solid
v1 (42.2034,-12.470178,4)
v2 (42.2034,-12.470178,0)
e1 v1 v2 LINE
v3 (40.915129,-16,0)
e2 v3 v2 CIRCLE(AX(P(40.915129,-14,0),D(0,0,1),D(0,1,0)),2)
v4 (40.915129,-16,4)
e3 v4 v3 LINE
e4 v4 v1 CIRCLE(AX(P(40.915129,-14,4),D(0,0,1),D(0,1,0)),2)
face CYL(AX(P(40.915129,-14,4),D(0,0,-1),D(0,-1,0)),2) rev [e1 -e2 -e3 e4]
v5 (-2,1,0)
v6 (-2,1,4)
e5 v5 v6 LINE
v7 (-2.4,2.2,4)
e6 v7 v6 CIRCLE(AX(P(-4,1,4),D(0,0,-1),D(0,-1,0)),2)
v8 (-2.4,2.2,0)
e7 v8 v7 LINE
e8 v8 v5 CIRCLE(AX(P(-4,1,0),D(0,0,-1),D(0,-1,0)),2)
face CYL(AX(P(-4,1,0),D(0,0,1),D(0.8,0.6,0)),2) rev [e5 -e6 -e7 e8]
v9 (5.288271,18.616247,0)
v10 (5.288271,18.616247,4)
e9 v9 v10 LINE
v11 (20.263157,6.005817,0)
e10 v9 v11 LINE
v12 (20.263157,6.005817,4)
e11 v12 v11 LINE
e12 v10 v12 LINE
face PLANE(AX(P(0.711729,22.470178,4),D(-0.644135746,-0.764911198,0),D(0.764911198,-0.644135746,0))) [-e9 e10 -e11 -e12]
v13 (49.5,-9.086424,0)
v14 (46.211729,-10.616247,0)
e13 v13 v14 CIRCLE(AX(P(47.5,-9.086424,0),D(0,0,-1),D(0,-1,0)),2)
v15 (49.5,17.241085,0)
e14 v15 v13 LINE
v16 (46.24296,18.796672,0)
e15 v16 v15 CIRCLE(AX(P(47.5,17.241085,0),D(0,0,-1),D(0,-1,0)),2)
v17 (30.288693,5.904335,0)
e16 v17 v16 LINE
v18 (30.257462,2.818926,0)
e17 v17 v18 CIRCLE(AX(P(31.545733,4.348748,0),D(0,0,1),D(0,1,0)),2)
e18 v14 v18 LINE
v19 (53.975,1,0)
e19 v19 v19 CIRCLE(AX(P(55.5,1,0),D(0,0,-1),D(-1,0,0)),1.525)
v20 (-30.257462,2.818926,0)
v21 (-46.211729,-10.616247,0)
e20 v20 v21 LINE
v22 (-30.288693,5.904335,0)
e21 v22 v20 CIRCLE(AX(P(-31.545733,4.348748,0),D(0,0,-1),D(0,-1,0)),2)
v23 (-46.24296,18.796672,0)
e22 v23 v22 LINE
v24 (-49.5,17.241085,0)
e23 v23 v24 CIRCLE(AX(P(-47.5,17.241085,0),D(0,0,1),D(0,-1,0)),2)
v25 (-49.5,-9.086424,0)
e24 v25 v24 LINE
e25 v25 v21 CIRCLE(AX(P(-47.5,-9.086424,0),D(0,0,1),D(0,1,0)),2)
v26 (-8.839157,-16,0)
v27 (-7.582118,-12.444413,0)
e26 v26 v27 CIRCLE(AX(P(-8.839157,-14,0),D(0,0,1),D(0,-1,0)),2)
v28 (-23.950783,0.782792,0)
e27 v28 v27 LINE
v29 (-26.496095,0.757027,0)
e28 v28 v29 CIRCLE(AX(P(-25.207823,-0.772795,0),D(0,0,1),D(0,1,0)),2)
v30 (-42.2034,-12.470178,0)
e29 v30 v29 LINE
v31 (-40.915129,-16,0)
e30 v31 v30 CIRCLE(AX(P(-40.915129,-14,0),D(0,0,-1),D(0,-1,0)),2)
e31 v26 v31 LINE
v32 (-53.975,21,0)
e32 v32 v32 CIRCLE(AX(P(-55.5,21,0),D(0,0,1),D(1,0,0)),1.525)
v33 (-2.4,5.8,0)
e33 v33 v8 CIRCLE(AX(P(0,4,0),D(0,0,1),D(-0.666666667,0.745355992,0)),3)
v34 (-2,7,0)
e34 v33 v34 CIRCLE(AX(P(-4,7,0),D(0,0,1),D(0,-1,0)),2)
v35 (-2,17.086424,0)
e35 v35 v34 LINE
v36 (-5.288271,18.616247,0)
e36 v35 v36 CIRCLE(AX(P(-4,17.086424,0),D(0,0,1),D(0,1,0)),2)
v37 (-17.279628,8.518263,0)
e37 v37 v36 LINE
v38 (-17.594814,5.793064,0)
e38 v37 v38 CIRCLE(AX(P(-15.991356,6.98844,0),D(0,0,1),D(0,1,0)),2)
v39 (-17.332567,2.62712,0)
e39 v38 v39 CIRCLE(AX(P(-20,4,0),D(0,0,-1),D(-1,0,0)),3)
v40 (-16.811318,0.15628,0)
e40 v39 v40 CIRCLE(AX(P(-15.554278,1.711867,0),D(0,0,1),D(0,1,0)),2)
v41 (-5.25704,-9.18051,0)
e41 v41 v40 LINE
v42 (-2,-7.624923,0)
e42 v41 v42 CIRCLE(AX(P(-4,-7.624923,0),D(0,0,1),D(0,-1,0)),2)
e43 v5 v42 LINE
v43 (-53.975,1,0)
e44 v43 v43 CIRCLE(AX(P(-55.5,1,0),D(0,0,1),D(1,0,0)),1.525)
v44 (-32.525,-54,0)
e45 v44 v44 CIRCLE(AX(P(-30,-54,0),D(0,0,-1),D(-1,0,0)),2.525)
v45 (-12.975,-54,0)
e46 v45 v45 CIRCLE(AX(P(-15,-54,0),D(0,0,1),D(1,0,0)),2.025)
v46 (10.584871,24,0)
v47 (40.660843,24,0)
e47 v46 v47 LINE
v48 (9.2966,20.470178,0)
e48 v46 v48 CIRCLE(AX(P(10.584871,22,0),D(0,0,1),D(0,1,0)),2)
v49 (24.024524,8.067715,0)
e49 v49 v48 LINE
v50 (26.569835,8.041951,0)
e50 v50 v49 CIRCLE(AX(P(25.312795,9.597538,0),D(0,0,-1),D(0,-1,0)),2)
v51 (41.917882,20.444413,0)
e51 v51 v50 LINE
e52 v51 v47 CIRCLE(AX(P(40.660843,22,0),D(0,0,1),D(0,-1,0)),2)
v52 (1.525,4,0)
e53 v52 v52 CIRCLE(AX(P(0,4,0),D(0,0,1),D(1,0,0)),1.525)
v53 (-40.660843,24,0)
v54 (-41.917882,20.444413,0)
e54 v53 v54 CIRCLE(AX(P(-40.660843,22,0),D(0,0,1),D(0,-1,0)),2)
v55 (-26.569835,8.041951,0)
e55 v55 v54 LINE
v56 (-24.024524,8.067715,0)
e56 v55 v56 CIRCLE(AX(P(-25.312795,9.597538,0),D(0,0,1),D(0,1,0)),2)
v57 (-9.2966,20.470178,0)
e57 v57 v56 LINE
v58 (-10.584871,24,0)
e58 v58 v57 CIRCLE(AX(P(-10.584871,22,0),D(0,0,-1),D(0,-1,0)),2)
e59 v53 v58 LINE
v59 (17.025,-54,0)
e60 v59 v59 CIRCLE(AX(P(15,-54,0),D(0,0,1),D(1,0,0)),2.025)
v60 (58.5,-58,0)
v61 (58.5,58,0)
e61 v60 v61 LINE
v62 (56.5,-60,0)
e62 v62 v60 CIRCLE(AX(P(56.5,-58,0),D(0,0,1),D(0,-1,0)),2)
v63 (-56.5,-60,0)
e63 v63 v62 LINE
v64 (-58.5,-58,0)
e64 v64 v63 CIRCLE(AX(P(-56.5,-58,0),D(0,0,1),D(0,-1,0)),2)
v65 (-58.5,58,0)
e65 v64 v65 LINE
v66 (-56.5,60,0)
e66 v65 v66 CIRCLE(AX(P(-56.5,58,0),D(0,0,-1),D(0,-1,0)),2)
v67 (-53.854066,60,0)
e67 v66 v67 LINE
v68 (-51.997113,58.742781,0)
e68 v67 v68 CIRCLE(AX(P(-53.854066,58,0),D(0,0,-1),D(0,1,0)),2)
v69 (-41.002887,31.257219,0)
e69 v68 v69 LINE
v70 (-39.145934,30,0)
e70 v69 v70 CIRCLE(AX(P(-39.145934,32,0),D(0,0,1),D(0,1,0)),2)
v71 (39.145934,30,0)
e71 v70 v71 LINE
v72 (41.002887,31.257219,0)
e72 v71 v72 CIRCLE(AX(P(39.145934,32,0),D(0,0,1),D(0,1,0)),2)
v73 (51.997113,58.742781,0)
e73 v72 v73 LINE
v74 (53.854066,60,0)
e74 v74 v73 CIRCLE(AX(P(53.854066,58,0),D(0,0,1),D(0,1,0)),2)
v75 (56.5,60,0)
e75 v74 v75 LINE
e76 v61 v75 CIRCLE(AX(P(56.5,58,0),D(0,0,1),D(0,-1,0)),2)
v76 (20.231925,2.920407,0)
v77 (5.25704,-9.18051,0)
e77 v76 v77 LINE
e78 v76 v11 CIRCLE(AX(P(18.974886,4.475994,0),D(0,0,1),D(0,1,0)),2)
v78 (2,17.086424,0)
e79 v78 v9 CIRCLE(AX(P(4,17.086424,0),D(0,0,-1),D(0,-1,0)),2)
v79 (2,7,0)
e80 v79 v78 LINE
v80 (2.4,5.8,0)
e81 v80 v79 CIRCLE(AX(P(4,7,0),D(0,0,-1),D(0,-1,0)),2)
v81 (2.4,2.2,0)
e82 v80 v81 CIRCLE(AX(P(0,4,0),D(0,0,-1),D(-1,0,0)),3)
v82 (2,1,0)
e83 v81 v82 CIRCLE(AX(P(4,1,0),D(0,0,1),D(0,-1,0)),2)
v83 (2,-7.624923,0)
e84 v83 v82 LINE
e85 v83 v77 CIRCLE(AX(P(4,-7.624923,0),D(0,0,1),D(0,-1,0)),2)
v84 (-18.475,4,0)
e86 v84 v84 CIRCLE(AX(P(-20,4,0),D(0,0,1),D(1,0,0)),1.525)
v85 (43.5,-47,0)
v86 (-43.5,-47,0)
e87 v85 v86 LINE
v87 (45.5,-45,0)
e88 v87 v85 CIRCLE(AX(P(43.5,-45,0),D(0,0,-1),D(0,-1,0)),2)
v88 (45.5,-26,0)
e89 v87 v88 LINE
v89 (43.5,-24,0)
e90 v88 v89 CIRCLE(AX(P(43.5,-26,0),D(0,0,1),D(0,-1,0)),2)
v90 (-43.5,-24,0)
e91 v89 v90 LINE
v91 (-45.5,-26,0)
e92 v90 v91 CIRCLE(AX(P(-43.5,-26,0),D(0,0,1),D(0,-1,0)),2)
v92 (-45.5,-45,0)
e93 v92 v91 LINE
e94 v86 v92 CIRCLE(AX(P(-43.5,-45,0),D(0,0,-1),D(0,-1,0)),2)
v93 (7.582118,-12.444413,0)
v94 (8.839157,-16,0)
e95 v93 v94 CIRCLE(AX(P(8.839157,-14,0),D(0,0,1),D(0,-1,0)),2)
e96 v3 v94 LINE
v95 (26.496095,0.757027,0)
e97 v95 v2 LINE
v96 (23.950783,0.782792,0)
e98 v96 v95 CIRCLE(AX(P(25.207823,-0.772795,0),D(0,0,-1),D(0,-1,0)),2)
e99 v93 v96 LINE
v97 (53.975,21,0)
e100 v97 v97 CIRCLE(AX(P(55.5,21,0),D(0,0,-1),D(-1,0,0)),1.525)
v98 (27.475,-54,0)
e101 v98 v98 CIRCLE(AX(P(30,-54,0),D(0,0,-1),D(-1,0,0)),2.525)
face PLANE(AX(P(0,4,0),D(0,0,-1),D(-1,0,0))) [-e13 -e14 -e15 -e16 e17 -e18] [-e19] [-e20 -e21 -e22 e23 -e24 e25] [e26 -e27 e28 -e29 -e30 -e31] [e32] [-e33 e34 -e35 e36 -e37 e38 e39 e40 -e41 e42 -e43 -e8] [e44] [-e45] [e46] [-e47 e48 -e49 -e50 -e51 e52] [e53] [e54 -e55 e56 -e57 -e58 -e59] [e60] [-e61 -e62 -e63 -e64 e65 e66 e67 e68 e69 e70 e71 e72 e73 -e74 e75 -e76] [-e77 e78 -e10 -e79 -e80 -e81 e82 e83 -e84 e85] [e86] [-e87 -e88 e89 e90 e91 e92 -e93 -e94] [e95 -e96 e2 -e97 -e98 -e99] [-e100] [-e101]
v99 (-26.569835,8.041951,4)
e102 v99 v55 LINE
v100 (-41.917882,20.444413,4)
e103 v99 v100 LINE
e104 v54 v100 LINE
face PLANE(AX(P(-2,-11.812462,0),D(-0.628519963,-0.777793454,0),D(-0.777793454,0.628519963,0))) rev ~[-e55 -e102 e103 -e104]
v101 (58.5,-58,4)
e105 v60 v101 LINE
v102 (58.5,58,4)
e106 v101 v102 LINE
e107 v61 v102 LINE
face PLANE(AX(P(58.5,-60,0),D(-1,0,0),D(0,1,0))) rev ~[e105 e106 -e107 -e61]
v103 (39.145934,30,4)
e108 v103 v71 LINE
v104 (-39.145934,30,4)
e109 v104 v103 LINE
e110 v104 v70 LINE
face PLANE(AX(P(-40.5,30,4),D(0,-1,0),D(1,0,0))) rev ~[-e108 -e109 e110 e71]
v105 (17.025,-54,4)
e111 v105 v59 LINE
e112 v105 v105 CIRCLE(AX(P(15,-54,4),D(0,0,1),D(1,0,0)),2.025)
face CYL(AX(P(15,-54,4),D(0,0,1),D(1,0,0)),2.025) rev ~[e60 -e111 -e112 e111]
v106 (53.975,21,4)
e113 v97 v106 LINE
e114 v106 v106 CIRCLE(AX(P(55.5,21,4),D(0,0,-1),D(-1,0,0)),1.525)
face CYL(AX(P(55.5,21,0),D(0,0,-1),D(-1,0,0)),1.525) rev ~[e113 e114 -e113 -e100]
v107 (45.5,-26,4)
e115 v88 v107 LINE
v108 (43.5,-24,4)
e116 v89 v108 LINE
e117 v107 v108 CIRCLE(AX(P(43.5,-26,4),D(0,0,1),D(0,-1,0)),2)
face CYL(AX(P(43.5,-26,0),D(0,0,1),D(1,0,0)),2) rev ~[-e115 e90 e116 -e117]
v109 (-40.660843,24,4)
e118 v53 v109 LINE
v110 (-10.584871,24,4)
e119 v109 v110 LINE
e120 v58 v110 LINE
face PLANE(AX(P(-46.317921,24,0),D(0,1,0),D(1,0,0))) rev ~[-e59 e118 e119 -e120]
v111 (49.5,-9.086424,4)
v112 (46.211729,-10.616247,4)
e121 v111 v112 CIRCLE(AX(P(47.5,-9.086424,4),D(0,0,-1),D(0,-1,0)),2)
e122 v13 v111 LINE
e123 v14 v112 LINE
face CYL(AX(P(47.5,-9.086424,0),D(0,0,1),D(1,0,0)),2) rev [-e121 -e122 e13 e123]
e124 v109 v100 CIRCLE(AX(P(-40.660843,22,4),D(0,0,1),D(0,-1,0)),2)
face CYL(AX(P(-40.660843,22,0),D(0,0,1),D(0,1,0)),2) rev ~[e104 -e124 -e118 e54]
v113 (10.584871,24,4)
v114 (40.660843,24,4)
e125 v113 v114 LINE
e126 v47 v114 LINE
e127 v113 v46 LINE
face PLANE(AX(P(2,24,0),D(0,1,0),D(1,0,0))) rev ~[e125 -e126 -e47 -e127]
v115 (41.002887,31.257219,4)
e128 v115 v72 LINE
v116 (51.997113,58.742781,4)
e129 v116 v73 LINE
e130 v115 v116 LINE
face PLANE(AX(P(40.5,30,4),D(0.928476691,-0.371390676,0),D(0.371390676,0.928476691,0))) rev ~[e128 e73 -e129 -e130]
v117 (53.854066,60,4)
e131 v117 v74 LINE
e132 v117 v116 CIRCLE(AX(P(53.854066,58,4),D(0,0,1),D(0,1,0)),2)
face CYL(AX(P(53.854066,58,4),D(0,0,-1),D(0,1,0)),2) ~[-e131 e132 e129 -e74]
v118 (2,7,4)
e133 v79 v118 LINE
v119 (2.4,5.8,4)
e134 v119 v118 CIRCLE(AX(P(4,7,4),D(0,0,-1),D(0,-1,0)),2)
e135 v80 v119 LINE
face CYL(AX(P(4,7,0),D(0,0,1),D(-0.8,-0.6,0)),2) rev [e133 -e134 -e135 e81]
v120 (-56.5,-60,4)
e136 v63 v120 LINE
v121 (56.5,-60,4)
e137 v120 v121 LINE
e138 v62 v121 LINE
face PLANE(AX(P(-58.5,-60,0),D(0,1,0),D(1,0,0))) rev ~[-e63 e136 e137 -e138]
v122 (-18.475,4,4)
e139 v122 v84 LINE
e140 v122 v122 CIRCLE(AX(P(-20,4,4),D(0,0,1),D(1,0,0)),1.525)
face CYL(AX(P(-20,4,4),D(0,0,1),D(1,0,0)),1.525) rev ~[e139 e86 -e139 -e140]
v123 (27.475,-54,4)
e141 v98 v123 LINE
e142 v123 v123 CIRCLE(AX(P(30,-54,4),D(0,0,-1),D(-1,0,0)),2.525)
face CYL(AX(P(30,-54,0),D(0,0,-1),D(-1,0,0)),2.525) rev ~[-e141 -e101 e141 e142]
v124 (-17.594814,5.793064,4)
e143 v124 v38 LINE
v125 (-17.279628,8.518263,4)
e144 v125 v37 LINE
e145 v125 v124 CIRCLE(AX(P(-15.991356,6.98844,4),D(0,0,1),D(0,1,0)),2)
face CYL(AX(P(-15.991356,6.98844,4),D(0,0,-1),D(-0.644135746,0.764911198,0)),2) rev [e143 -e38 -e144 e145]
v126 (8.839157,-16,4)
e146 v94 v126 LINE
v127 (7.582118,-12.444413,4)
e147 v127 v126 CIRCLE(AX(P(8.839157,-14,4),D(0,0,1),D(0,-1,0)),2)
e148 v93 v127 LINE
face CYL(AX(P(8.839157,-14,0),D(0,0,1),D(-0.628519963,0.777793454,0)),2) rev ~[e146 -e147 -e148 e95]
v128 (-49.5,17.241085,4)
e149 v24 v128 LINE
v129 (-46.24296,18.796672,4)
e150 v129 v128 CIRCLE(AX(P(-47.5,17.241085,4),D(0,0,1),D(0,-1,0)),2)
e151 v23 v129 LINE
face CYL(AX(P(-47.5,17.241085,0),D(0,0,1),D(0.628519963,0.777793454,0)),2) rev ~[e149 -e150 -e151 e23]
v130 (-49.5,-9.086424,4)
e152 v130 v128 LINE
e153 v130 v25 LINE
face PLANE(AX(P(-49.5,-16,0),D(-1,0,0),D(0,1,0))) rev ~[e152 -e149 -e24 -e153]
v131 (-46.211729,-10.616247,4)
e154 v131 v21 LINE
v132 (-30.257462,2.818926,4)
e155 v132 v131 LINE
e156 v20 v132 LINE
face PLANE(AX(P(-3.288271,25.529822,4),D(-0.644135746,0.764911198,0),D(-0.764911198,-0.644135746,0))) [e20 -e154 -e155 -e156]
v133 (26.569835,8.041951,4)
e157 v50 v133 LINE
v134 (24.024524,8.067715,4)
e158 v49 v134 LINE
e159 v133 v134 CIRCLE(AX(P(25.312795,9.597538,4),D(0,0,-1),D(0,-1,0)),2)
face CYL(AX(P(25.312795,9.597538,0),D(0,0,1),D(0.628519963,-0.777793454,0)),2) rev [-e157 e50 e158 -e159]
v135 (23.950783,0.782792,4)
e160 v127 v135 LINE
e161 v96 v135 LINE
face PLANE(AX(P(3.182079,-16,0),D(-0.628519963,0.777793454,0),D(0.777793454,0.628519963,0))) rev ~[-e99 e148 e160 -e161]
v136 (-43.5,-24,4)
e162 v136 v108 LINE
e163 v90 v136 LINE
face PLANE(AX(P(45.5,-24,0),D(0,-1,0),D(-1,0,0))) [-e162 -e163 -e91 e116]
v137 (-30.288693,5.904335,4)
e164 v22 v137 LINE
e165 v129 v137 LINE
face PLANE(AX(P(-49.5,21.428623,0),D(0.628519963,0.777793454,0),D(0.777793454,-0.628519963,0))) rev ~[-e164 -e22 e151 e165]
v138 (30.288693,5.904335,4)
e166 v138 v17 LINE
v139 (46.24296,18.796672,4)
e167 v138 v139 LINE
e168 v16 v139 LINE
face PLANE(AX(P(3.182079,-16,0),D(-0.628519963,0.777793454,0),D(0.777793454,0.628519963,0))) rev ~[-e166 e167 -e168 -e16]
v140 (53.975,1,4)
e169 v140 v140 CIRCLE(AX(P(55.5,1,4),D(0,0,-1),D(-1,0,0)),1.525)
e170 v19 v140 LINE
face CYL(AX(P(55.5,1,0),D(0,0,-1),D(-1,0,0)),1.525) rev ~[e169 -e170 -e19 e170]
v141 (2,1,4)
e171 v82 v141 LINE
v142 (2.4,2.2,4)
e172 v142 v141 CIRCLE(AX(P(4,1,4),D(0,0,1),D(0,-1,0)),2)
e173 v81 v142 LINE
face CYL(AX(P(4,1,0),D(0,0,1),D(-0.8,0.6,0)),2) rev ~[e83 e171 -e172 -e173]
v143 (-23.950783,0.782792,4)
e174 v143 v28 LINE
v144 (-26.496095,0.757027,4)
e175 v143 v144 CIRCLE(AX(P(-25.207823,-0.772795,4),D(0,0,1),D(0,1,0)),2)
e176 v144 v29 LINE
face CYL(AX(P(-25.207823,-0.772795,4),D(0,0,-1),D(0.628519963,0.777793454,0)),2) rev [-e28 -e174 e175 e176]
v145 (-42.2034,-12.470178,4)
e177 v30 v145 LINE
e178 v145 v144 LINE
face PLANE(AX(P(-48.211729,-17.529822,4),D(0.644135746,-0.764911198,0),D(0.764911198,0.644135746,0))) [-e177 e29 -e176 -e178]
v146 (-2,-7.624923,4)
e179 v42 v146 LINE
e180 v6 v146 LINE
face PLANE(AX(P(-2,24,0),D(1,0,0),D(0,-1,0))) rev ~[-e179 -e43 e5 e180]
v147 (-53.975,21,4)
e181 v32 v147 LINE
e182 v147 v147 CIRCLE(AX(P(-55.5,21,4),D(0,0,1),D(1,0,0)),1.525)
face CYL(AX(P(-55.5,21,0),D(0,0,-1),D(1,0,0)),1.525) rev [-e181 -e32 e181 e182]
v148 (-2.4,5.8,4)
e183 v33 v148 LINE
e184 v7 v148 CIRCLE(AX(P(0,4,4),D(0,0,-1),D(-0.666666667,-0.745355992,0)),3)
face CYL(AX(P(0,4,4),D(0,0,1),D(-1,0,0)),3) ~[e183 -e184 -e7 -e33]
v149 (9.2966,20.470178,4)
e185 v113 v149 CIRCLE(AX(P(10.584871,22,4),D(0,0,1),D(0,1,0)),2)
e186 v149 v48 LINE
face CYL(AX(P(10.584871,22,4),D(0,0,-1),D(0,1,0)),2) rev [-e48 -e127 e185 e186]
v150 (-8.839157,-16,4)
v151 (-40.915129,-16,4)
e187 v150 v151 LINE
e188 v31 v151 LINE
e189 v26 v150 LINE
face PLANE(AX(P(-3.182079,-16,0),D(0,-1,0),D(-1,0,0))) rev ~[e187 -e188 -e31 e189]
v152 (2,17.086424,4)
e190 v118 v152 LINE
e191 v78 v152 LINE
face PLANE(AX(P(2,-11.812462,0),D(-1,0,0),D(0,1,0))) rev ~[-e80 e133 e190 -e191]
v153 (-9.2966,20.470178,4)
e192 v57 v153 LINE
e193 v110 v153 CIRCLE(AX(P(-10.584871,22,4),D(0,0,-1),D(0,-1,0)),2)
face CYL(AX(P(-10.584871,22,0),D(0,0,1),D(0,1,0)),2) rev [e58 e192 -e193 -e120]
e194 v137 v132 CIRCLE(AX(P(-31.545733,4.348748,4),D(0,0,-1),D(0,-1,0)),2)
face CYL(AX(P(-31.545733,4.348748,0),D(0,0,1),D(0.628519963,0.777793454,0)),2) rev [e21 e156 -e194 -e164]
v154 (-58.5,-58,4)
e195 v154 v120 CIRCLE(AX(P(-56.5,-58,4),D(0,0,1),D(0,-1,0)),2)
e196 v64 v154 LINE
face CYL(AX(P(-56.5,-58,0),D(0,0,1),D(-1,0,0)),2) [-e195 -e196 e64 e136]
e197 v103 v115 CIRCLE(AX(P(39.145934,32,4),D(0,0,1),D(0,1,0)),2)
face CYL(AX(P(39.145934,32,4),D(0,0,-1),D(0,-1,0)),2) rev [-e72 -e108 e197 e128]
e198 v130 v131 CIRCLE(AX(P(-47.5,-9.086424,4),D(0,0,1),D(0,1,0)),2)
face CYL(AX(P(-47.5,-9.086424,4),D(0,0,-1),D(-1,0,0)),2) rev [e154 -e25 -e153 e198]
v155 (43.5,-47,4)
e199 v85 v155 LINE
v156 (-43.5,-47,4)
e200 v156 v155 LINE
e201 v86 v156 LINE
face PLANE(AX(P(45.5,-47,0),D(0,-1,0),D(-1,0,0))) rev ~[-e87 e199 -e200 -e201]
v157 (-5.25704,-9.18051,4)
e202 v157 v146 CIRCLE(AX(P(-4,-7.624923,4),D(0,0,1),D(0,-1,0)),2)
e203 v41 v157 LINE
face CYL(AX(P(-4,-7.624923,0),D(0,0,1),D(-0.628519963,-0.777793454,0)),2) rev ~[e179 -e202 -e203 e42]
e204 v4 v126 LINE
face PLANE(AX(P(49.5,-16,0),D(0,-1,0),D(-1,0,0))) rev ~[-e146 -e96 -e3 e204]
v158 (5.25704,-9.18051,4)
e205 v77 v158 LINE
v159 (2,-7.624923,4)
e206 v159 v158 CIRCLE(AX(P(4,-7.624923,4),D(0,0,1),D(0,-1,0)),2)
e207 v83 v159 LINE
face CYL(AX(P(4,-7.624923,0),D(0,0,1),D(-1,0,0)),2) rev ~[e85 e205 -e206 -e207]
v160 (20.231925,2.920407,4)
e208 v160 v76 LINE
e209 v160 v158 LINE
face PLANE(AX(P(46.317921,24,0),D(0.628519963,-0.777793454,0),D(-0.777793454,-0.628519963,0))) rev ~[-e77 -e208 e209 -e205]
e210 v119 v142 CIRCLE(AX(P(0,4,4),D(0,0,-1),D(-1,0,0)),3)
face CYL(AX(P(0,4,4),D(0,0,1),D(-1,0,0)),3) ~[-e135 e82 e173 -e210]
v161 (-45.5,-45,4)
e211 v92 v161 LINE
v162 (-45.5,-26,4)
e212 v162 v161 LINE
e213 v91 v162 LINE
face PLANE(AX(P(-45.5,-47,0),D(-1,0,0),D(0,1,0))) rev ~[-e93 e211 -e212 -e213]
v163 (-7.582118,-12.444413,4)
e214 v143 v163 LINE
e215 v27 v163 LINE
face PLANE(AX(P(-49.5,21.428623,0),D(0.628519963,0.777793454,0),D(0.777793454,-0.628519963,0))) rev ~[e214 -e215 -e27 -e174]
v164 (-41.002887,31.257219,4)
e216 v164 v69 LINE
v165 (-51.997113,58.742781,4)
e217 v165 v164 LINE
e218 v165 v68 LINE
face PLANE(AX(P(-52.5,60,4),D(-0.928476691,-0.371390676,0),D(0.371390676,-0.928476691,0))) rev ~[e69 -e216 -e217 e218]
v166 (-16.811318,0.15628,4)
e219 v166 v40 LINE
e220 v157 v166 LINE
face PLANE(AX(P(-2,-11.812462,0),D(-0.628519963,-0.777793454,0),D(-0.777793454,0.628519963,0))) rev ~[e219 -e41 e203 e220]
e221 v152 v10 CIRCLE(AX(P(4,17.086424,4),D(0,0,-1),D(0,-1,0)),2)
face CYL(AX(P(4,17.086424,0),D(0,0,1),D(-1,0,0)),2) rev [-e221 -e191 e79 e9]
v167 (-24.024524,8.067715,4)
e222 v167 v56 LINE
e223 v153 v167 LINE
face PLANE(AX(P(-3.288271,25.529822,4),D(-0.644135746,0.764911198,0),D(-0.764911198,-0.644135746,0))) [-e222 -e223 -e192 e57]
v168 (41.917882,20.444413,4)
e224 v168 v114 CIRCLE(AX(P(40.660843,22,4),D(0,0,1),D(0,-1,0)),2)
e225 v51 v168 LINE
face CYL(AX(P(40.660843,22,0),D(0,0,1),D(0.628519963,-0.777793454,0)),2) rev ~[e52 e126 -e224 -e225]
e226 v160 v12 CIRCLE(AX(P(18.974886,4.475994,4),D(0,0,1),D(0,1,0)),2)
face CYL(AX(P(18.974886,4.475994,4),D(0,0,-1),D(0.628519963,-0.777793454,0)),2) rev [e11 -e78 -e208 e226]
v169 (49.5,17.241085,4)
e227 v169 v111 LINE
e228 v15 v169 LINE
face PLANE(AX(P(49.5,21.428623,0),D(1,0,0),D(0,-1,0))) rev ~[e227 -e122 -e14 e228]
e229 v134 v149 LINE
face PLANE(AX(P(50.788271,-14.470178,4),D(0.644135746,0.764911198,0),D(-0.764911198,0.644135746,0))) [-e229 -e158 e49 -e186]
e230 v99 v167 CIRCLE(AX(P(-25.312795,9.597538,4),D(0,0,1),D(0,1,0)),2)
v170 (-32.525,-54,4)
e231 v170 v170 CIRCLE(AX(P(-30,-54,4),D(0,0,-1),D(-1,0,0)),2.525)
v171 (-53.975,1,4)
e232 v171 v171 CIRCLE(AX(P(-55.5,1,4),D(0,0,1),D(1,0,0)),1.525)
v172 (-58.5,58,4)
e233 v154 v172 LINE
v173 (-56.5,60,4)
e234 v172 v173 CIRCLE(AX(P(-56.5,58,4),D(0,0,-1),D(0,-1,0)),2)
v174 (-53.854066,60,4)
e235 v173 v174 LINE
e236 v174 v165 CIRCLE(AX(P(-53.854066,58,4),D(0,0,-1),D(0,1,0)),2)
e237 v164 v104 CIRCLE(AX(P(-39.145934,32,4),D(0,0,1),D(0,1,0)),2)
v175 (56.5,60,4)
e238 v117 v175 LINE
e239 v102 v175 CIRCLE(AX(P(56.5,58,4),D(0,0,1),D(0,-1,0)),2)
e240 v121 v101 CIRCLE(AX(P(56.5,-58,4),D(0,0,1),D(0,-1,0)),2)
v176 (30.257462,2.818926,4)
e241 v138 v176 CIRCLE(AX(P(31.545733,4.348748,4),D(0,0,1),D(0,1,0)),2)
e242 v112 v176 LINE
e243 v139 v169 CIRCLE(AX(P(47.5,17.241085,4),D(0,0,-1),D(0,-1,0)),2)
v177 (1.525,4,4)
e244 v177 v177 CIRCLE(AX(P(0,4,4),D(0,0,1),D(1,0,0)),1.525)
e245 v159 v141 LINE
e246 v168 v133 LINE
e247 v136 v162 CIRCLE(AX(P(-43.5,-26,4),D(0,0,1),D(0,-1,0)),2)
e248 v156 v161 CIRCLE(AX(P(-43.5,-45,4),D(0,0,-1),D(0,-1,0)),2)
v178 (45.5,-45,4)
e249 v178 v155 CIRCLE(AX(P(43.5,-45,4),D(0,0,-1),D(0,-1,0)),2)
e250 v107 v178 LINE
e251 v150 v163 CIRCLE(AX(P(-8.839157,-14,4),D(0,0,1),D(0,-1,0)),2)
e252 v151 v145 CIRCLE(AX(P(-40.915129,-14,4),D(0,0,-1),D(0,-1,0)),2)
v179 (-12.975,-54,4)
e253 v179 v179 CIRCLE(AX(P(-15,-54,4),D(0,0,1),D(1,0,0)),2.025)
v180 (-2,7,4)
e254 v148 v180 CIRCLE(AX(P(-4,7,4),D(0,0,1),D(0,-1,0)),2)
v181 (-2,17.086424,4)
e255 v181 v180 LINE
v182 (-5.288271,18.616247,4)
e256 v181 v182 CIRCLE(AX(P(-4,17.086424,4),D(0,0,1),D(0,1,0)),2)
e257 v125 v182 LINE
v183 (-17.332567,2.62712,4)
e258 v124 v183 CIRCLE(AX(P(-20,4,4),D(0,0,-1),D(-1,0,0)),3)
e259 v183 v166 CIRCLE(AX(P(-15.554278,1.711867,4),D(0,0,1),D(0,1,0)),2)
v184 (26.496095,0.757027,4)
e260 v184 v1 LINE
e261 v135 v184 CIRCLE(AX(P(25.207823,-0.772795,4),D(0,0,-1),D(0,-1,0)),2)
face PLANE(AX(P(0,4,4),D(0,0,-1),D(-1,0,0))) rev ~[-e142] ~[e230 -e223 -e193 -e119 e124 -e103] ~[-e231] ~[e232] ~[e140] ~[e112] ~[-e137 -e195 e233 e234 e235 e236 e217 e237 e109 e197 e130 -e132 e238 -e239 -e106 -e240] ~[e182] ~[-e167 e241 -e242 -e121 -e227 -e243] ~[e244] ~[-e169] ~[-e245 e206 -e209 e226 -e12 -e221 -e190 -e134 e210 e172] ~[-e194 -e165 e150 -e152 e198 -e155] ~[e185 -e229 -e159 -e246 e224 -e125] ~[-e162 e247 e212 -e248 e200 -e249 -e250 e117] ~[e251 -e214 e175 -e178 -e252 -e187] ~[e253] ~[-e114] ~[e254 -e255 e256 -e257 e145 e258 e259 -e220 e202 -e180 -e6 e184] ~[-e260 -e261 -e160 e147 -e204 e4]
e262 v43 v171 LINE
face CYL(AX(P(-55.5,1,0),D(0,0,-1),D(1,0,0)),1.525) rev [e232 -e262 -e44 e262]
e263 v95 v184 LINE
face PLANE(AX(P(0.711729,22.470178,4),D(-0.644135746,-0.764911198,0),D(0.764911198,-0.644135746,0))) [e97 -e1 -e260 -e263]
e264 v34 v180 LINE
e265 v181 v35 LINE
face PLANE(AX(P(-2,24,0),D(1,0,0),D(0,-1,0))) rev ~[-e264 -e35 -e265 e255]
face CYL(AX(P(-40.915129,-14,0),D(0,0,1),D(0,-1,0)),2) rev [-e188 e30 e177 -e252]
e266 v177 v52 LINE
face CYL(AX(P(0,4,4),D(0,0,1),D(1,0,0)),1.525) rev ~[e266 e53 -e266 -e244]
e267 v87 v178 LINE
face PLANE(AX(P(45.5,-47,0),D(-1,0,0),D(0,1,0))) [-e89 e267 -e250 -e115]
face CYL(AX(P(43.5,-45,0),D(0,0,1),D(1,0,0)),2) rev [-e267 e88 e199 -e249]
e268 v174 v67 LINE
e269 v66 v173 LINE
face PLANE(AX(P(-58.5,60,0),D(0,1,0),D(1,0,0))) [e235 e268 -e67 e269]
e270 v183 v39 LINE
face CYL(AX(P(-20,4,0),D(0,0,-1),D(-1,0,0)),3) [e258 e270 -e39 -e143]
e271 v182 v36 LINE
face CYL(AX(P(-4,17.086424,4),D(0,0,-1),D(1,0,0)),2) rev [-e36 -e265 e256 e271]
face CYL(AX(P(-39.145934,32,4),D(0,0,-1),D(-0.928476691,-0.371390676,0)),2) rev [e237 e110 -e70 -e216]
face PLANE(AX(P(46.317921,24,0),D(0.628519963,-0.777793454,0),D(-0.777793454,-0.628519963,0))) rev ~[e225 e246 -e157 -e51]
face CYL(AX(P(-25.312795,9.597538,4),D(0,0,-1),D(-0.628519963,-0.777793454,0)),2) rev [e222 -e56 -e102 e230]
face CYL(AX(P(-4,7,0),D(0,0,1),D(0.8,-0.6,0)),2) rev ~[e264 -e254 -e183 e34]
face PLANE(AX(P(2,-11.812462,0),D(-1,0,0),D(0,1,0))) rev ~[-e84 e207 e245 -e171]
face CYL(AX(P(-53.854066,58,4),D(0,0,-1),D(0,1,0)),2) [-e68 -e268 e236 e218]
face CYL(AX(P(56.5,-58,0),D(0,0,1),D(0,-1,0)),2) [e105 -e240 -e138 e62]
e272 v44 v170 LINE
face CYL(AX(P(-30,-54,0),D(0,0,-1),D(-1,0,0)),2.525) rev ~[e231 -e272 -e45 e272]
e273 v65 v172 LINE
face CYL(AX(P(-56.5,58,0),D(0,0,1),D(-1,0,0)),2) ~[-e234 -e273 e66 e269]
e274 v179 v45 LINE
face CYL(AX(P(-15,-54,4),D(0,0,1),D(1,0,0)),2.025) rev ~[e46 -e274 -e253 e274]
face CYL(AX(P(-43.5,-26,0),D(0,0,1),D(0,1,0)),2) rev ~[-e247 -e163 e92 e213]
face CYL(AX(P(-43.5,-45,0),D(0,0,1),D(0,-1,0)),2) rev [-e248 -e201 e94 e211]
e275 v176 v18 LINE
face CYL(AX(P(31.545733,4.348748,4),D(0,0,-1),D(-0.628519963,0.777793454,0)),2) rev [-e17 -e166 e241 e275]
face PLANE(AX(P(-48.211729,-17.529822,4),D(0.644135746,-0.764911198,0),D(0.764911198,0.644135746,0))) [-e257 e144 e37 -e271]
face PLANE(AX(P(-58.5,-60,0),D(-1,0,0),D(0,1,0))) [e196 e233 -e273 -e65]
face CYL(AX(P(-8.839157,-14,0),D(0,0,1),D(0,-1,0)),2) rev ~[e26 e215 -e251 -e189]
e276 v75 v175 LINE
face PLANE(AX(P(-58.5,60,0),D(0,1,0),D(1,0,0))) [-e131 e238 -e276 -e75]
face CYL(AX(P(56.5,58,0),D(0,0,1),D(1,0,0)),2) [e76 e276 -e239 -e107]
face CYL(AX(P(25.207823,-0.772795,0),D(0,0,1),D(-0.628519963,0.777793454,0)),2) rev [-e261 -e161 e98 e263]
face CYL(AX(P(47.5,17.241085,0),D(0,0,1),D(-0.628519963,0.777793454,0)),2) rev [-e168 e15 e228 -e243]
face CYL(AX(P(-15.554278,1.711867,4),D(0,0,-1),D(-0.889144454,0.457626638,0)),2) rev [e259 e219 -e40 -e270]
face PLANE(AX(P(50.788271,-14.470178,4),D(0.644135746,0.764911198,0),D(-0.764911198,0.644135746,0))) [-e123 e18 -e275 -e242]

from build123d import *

# Parameters (mm, degrees)
SKETCH_1_W           = 117
SKETCH_1_H           = 120
EXTRUDE_1_DEPTH      = 4
SKETCH_4_W           = 91
SKETCH_4_H           = 23
CUT_EXTRUDE_3_DEPTH  = 10
CUT_EXTRUDE_4_DEPTH  = 10
SKETCH_6_R           = 1.525
CUT_EXTRUDE_5_DEPTH  = 4
SKETCH_8_R           = 2.525
CUT_EXTRUDE_7_DEPTH  = 40
FILLET_1_R           = 2
CUT_EXTRUDE_10_DEPTH = 4
EXTRUDE_4_DEPTH      = 4
FILLET_4_R           = 2
SKETCH_18_R          = 3
EXTRUDE_6_DEPTH      = 4
SKETCH_19_R          = 1.525
CUT_EXTRUDE_12_DEPTH = 4
EXTRUDE_START        = -4
SKETCH_20_R          = 3
SKETCH_20_R_2        = 1.525
EXTRUDE_7_DEPTH      = 4
FILLET_6_R           = 2
SKETCH_21_R          = 2.025
CUT_EXTRUDE_13_DEPTH = 10


with BuildPart() as part:
    # 草图1 → 凸台-拉伸1 (new body)
    with BuildSketch(Plane.XY):
        Rectangle(SKETCH_1_W, SKETCH_1_H)
    extrude(amount=EXTRUDE_1_DEPTH)

    # 草图4 → 切除-拉伸3 (cut)
    with BuildSketch(Plane(origin=(0, 0, 0), x_dir=(-1, 0, 0), z_dir=(0, 0, -1))):
        with Locations((0, -35.5)):
            Rectangle(SKETCH_4_W, SKETCH_4_H)
    extrude(amount=-CUT_EXTRUDE_3_DEPTH, mode=Mode.SUBTRACT)

    # 草图5 → 切除-拉伸4 (cut)
    with BuildSketch(Plane.XY.offset(4)):
        Polygon((-52.5, 60), (-40.5, 30), (40.5, 30), (52.5, 60), align=None)
    extrude(amount=-CUT_EXTRUDE_4_DEPTH, mode=Mode.SUBTRACT)

    # 草图6 → 切除-拉伸5 (cut)
    with BuildSketch(Plane(origin=(0, 0, 0), x_dir=(-1, 0, 0), z_dir=(0, 0, -1))):
        with Locations((-55.5, 21)):
            Circle(SKETCH_6_R)
        with Locations((-55.5, 1)):
            Circle(SKETCH_6_R)
    cut_extrude_5 = extrude(amount=-CUT_EXTRUDE_5_DEPTH, mode=Mode.SUBTRACT)

    # 镜向1: 切除-拉伸5 across plane
    add(cut_extrude_5.mirror(Plane(origin=(0, 0, 0), x_dir=(0, 0, 1), z_dir=(1, 0, 0))), mode=Mode.SUBTRACT)

    # 草图8 → 切除-拉伸7 (cut)
    with BuildSketch(Plane(origin=(0, 0, 0), x_dir=(-1, 0, 0), z_dir=(0, 0, -1))):
        with Locations((30, -54)):
            Circle(SKETCH_8_R)
        with Locations((-30, -54)):
            Circle(SKETCH_8_R)
    extrude(amount=-CUT_EXTRUDE_7_DEPTH, mode=Mode.SUBTRACT)

    # 圆角1
    fillet_1_edges = [part.edges().sort_by_distance(p)[0] for p in [
        (-45.5, -47, 2),
        (45.5, -47, 2),
        (45.5, -24, 2),
        (-45.5, -24, 2),
        (-52.5, 60, 2),
        (52.5, 60, 2),
        (40.5, 30, 2),
        (-40.5, 30, 2),
        (58.5, -60, 2),
        (-58.5, -60, 2),
        (-58.5, 60, 2),
        (58.5, 60, 2),
    ]]
    fillet(fillet_1_edges, radius=FILLET_1_R)

    # 草图12 → 切除-拉伸10 (cut)
    with BuildSketch(Plane(origin=(0, 0, 0), x_dir=(-1, 0, 0), z_dir=(0, 0, -1))):
        Polygon((49.5, 21.428623254), (3.182078723, -16), (49.5, -16), align=None)
        Polygon((2, 24), (2, -11.812461638), (46.317921277, 24), align=None)
        Polygon((-46.317921277, 24), (-2, -11.812461638), (-2, 24), align=None)
        Polygon((-49.5, -16), (-3.182078723, -16), (-49.5, 21.428623254), align=None)
    extrude(amount=-CUT_EXTRUDE_10_DEPTH, mode=Mode.SUBTRACT)

    # 草图15 → 凸台-拉伸4 (add)
    with BuildSketch(Plane.XY.offset(4)):
        Polygon((-3.288271492, 25.529822396), (-50.788271492, -14.470177604), (-48.211728508, -17.529822396), (-0.711728508, 22.470177604), align=None)
        Polygon((0.711728508, 22.470177604), (48.211728508, -17.529822396), (50.788271492, -14.470177604), (3.288271492, 25.529822396), align=None)
    extrude(amount=-EXTRUDE_4_DEPTH)

    # 圆角4
    fillet_4_edges = [part.edges().sort_by_distance(p)[0] for p in [
        (-2, -11.812461638, 2),
        (-46.317921277, 24, 2),
        (46.317921277, 24, 2),
        (2, -11.812461638, 2),
        (3.182078723, -16, 2),
        (49.5, 21.428623254, 2),
        (-3.182078723, -16, 2),
        (-49.5, 21.428623254, 2),
        (-22.117597413, 4.444182736, 2),
        (-25.286552291, 7.004954355, 2),
        (-28.403021143, 4.380559532, 2),
        (-5.104935587, 24, 2),
        (-25.234066266, 1.819787913, 2),
        (-2, 21.3853174, 2),
        (-49.5, -13.3853174, 2),
        (-46.395064413, -16, 2),
        (25.286552291, 7.004954355, 2),
        (22.117597413, 4.444182736, 2),
        (25.234066266, 1.819787913, 2),
        (2, 21.3853174, 2),
        (5.104935587, 24, 2),
        (46.395064413, -16, 2),
        (49.5, -13.3853174, 2),
        (28.403021143, 4.380559532, 2),
    ]]
    fillet(fillet_4_edges, radius=FILLET_4_R)

    # 草图18 → 凸台-拉伸6 (add)
    with BuildSketch(Plane(origin=(0, 0, 0), x_dir=(-1, 0, 0), z_dir=(0, 0, -1))):
        with Locations((20, 4)):
            Circle(SKETCH_18_R)
    extrude(amount=-EXTRUDE_6_DEPTH)

    # 草图19 → 切除-拉伸12 (cut)
    with BuildSketch(Plane.XY.offset(4)):
        with Locations((0, 4)):
            Circle(SKETCH_19_R)
        with Locations((-20, 4)):
            Circle(SKETCH_19_R)
    extrude(amount=-CUT_EXTRUDE_12_DEPTH, mode=Mode.SUBTRACT)

    # 草图20 → 凸台-拉伸7 (add)
    with BuildSketch(Plane(origin=(0, 0, 0), x_dir=(-1, 0, 0), z_dir=(0, 0, -1)).offset(EXTRUDE_START)):
        with Locations((0, 4)):
            Circle(SKETCH_20_R)
        with Locations(Location((0, 4, 0), (0, 0, 180))):
            Circle(SKETCH_20_R_2, mode=Mode.SUBTRACT)
    extrude(amount=EXTRUDE_7_DEPTH)

    # 圆角6
    fillet_6_edges = [part.edges().sort_by_distance(p)[0] for p in [
        (-19.208718836, 6.893764697, 2),
        (-18.415492277, 1.452582626, 2),
        (-2, 6.236067977, 2),
        (-2, 1.763932023, 2),
        (2, 1.763932023, 2),
        (2, 6.236067977, 2),
    ]]
    fillet(fillet_6_edges, radius=FILLET_6_R)

    # 草图21 → 切除-拉伸13 (cut)
    with BuildSketch(Plane.XY.offset(4)):
        with Locations((-15, -54)):
            Circle(SKETCH_21_R)
        with Locations((15, -54)):
            Circle(SKETCH_21_R)
    extrude(amount=-CUT_EXTRUDE_13_DEPTH, mode=Mode.SUBTRACT)


solid = part.part
